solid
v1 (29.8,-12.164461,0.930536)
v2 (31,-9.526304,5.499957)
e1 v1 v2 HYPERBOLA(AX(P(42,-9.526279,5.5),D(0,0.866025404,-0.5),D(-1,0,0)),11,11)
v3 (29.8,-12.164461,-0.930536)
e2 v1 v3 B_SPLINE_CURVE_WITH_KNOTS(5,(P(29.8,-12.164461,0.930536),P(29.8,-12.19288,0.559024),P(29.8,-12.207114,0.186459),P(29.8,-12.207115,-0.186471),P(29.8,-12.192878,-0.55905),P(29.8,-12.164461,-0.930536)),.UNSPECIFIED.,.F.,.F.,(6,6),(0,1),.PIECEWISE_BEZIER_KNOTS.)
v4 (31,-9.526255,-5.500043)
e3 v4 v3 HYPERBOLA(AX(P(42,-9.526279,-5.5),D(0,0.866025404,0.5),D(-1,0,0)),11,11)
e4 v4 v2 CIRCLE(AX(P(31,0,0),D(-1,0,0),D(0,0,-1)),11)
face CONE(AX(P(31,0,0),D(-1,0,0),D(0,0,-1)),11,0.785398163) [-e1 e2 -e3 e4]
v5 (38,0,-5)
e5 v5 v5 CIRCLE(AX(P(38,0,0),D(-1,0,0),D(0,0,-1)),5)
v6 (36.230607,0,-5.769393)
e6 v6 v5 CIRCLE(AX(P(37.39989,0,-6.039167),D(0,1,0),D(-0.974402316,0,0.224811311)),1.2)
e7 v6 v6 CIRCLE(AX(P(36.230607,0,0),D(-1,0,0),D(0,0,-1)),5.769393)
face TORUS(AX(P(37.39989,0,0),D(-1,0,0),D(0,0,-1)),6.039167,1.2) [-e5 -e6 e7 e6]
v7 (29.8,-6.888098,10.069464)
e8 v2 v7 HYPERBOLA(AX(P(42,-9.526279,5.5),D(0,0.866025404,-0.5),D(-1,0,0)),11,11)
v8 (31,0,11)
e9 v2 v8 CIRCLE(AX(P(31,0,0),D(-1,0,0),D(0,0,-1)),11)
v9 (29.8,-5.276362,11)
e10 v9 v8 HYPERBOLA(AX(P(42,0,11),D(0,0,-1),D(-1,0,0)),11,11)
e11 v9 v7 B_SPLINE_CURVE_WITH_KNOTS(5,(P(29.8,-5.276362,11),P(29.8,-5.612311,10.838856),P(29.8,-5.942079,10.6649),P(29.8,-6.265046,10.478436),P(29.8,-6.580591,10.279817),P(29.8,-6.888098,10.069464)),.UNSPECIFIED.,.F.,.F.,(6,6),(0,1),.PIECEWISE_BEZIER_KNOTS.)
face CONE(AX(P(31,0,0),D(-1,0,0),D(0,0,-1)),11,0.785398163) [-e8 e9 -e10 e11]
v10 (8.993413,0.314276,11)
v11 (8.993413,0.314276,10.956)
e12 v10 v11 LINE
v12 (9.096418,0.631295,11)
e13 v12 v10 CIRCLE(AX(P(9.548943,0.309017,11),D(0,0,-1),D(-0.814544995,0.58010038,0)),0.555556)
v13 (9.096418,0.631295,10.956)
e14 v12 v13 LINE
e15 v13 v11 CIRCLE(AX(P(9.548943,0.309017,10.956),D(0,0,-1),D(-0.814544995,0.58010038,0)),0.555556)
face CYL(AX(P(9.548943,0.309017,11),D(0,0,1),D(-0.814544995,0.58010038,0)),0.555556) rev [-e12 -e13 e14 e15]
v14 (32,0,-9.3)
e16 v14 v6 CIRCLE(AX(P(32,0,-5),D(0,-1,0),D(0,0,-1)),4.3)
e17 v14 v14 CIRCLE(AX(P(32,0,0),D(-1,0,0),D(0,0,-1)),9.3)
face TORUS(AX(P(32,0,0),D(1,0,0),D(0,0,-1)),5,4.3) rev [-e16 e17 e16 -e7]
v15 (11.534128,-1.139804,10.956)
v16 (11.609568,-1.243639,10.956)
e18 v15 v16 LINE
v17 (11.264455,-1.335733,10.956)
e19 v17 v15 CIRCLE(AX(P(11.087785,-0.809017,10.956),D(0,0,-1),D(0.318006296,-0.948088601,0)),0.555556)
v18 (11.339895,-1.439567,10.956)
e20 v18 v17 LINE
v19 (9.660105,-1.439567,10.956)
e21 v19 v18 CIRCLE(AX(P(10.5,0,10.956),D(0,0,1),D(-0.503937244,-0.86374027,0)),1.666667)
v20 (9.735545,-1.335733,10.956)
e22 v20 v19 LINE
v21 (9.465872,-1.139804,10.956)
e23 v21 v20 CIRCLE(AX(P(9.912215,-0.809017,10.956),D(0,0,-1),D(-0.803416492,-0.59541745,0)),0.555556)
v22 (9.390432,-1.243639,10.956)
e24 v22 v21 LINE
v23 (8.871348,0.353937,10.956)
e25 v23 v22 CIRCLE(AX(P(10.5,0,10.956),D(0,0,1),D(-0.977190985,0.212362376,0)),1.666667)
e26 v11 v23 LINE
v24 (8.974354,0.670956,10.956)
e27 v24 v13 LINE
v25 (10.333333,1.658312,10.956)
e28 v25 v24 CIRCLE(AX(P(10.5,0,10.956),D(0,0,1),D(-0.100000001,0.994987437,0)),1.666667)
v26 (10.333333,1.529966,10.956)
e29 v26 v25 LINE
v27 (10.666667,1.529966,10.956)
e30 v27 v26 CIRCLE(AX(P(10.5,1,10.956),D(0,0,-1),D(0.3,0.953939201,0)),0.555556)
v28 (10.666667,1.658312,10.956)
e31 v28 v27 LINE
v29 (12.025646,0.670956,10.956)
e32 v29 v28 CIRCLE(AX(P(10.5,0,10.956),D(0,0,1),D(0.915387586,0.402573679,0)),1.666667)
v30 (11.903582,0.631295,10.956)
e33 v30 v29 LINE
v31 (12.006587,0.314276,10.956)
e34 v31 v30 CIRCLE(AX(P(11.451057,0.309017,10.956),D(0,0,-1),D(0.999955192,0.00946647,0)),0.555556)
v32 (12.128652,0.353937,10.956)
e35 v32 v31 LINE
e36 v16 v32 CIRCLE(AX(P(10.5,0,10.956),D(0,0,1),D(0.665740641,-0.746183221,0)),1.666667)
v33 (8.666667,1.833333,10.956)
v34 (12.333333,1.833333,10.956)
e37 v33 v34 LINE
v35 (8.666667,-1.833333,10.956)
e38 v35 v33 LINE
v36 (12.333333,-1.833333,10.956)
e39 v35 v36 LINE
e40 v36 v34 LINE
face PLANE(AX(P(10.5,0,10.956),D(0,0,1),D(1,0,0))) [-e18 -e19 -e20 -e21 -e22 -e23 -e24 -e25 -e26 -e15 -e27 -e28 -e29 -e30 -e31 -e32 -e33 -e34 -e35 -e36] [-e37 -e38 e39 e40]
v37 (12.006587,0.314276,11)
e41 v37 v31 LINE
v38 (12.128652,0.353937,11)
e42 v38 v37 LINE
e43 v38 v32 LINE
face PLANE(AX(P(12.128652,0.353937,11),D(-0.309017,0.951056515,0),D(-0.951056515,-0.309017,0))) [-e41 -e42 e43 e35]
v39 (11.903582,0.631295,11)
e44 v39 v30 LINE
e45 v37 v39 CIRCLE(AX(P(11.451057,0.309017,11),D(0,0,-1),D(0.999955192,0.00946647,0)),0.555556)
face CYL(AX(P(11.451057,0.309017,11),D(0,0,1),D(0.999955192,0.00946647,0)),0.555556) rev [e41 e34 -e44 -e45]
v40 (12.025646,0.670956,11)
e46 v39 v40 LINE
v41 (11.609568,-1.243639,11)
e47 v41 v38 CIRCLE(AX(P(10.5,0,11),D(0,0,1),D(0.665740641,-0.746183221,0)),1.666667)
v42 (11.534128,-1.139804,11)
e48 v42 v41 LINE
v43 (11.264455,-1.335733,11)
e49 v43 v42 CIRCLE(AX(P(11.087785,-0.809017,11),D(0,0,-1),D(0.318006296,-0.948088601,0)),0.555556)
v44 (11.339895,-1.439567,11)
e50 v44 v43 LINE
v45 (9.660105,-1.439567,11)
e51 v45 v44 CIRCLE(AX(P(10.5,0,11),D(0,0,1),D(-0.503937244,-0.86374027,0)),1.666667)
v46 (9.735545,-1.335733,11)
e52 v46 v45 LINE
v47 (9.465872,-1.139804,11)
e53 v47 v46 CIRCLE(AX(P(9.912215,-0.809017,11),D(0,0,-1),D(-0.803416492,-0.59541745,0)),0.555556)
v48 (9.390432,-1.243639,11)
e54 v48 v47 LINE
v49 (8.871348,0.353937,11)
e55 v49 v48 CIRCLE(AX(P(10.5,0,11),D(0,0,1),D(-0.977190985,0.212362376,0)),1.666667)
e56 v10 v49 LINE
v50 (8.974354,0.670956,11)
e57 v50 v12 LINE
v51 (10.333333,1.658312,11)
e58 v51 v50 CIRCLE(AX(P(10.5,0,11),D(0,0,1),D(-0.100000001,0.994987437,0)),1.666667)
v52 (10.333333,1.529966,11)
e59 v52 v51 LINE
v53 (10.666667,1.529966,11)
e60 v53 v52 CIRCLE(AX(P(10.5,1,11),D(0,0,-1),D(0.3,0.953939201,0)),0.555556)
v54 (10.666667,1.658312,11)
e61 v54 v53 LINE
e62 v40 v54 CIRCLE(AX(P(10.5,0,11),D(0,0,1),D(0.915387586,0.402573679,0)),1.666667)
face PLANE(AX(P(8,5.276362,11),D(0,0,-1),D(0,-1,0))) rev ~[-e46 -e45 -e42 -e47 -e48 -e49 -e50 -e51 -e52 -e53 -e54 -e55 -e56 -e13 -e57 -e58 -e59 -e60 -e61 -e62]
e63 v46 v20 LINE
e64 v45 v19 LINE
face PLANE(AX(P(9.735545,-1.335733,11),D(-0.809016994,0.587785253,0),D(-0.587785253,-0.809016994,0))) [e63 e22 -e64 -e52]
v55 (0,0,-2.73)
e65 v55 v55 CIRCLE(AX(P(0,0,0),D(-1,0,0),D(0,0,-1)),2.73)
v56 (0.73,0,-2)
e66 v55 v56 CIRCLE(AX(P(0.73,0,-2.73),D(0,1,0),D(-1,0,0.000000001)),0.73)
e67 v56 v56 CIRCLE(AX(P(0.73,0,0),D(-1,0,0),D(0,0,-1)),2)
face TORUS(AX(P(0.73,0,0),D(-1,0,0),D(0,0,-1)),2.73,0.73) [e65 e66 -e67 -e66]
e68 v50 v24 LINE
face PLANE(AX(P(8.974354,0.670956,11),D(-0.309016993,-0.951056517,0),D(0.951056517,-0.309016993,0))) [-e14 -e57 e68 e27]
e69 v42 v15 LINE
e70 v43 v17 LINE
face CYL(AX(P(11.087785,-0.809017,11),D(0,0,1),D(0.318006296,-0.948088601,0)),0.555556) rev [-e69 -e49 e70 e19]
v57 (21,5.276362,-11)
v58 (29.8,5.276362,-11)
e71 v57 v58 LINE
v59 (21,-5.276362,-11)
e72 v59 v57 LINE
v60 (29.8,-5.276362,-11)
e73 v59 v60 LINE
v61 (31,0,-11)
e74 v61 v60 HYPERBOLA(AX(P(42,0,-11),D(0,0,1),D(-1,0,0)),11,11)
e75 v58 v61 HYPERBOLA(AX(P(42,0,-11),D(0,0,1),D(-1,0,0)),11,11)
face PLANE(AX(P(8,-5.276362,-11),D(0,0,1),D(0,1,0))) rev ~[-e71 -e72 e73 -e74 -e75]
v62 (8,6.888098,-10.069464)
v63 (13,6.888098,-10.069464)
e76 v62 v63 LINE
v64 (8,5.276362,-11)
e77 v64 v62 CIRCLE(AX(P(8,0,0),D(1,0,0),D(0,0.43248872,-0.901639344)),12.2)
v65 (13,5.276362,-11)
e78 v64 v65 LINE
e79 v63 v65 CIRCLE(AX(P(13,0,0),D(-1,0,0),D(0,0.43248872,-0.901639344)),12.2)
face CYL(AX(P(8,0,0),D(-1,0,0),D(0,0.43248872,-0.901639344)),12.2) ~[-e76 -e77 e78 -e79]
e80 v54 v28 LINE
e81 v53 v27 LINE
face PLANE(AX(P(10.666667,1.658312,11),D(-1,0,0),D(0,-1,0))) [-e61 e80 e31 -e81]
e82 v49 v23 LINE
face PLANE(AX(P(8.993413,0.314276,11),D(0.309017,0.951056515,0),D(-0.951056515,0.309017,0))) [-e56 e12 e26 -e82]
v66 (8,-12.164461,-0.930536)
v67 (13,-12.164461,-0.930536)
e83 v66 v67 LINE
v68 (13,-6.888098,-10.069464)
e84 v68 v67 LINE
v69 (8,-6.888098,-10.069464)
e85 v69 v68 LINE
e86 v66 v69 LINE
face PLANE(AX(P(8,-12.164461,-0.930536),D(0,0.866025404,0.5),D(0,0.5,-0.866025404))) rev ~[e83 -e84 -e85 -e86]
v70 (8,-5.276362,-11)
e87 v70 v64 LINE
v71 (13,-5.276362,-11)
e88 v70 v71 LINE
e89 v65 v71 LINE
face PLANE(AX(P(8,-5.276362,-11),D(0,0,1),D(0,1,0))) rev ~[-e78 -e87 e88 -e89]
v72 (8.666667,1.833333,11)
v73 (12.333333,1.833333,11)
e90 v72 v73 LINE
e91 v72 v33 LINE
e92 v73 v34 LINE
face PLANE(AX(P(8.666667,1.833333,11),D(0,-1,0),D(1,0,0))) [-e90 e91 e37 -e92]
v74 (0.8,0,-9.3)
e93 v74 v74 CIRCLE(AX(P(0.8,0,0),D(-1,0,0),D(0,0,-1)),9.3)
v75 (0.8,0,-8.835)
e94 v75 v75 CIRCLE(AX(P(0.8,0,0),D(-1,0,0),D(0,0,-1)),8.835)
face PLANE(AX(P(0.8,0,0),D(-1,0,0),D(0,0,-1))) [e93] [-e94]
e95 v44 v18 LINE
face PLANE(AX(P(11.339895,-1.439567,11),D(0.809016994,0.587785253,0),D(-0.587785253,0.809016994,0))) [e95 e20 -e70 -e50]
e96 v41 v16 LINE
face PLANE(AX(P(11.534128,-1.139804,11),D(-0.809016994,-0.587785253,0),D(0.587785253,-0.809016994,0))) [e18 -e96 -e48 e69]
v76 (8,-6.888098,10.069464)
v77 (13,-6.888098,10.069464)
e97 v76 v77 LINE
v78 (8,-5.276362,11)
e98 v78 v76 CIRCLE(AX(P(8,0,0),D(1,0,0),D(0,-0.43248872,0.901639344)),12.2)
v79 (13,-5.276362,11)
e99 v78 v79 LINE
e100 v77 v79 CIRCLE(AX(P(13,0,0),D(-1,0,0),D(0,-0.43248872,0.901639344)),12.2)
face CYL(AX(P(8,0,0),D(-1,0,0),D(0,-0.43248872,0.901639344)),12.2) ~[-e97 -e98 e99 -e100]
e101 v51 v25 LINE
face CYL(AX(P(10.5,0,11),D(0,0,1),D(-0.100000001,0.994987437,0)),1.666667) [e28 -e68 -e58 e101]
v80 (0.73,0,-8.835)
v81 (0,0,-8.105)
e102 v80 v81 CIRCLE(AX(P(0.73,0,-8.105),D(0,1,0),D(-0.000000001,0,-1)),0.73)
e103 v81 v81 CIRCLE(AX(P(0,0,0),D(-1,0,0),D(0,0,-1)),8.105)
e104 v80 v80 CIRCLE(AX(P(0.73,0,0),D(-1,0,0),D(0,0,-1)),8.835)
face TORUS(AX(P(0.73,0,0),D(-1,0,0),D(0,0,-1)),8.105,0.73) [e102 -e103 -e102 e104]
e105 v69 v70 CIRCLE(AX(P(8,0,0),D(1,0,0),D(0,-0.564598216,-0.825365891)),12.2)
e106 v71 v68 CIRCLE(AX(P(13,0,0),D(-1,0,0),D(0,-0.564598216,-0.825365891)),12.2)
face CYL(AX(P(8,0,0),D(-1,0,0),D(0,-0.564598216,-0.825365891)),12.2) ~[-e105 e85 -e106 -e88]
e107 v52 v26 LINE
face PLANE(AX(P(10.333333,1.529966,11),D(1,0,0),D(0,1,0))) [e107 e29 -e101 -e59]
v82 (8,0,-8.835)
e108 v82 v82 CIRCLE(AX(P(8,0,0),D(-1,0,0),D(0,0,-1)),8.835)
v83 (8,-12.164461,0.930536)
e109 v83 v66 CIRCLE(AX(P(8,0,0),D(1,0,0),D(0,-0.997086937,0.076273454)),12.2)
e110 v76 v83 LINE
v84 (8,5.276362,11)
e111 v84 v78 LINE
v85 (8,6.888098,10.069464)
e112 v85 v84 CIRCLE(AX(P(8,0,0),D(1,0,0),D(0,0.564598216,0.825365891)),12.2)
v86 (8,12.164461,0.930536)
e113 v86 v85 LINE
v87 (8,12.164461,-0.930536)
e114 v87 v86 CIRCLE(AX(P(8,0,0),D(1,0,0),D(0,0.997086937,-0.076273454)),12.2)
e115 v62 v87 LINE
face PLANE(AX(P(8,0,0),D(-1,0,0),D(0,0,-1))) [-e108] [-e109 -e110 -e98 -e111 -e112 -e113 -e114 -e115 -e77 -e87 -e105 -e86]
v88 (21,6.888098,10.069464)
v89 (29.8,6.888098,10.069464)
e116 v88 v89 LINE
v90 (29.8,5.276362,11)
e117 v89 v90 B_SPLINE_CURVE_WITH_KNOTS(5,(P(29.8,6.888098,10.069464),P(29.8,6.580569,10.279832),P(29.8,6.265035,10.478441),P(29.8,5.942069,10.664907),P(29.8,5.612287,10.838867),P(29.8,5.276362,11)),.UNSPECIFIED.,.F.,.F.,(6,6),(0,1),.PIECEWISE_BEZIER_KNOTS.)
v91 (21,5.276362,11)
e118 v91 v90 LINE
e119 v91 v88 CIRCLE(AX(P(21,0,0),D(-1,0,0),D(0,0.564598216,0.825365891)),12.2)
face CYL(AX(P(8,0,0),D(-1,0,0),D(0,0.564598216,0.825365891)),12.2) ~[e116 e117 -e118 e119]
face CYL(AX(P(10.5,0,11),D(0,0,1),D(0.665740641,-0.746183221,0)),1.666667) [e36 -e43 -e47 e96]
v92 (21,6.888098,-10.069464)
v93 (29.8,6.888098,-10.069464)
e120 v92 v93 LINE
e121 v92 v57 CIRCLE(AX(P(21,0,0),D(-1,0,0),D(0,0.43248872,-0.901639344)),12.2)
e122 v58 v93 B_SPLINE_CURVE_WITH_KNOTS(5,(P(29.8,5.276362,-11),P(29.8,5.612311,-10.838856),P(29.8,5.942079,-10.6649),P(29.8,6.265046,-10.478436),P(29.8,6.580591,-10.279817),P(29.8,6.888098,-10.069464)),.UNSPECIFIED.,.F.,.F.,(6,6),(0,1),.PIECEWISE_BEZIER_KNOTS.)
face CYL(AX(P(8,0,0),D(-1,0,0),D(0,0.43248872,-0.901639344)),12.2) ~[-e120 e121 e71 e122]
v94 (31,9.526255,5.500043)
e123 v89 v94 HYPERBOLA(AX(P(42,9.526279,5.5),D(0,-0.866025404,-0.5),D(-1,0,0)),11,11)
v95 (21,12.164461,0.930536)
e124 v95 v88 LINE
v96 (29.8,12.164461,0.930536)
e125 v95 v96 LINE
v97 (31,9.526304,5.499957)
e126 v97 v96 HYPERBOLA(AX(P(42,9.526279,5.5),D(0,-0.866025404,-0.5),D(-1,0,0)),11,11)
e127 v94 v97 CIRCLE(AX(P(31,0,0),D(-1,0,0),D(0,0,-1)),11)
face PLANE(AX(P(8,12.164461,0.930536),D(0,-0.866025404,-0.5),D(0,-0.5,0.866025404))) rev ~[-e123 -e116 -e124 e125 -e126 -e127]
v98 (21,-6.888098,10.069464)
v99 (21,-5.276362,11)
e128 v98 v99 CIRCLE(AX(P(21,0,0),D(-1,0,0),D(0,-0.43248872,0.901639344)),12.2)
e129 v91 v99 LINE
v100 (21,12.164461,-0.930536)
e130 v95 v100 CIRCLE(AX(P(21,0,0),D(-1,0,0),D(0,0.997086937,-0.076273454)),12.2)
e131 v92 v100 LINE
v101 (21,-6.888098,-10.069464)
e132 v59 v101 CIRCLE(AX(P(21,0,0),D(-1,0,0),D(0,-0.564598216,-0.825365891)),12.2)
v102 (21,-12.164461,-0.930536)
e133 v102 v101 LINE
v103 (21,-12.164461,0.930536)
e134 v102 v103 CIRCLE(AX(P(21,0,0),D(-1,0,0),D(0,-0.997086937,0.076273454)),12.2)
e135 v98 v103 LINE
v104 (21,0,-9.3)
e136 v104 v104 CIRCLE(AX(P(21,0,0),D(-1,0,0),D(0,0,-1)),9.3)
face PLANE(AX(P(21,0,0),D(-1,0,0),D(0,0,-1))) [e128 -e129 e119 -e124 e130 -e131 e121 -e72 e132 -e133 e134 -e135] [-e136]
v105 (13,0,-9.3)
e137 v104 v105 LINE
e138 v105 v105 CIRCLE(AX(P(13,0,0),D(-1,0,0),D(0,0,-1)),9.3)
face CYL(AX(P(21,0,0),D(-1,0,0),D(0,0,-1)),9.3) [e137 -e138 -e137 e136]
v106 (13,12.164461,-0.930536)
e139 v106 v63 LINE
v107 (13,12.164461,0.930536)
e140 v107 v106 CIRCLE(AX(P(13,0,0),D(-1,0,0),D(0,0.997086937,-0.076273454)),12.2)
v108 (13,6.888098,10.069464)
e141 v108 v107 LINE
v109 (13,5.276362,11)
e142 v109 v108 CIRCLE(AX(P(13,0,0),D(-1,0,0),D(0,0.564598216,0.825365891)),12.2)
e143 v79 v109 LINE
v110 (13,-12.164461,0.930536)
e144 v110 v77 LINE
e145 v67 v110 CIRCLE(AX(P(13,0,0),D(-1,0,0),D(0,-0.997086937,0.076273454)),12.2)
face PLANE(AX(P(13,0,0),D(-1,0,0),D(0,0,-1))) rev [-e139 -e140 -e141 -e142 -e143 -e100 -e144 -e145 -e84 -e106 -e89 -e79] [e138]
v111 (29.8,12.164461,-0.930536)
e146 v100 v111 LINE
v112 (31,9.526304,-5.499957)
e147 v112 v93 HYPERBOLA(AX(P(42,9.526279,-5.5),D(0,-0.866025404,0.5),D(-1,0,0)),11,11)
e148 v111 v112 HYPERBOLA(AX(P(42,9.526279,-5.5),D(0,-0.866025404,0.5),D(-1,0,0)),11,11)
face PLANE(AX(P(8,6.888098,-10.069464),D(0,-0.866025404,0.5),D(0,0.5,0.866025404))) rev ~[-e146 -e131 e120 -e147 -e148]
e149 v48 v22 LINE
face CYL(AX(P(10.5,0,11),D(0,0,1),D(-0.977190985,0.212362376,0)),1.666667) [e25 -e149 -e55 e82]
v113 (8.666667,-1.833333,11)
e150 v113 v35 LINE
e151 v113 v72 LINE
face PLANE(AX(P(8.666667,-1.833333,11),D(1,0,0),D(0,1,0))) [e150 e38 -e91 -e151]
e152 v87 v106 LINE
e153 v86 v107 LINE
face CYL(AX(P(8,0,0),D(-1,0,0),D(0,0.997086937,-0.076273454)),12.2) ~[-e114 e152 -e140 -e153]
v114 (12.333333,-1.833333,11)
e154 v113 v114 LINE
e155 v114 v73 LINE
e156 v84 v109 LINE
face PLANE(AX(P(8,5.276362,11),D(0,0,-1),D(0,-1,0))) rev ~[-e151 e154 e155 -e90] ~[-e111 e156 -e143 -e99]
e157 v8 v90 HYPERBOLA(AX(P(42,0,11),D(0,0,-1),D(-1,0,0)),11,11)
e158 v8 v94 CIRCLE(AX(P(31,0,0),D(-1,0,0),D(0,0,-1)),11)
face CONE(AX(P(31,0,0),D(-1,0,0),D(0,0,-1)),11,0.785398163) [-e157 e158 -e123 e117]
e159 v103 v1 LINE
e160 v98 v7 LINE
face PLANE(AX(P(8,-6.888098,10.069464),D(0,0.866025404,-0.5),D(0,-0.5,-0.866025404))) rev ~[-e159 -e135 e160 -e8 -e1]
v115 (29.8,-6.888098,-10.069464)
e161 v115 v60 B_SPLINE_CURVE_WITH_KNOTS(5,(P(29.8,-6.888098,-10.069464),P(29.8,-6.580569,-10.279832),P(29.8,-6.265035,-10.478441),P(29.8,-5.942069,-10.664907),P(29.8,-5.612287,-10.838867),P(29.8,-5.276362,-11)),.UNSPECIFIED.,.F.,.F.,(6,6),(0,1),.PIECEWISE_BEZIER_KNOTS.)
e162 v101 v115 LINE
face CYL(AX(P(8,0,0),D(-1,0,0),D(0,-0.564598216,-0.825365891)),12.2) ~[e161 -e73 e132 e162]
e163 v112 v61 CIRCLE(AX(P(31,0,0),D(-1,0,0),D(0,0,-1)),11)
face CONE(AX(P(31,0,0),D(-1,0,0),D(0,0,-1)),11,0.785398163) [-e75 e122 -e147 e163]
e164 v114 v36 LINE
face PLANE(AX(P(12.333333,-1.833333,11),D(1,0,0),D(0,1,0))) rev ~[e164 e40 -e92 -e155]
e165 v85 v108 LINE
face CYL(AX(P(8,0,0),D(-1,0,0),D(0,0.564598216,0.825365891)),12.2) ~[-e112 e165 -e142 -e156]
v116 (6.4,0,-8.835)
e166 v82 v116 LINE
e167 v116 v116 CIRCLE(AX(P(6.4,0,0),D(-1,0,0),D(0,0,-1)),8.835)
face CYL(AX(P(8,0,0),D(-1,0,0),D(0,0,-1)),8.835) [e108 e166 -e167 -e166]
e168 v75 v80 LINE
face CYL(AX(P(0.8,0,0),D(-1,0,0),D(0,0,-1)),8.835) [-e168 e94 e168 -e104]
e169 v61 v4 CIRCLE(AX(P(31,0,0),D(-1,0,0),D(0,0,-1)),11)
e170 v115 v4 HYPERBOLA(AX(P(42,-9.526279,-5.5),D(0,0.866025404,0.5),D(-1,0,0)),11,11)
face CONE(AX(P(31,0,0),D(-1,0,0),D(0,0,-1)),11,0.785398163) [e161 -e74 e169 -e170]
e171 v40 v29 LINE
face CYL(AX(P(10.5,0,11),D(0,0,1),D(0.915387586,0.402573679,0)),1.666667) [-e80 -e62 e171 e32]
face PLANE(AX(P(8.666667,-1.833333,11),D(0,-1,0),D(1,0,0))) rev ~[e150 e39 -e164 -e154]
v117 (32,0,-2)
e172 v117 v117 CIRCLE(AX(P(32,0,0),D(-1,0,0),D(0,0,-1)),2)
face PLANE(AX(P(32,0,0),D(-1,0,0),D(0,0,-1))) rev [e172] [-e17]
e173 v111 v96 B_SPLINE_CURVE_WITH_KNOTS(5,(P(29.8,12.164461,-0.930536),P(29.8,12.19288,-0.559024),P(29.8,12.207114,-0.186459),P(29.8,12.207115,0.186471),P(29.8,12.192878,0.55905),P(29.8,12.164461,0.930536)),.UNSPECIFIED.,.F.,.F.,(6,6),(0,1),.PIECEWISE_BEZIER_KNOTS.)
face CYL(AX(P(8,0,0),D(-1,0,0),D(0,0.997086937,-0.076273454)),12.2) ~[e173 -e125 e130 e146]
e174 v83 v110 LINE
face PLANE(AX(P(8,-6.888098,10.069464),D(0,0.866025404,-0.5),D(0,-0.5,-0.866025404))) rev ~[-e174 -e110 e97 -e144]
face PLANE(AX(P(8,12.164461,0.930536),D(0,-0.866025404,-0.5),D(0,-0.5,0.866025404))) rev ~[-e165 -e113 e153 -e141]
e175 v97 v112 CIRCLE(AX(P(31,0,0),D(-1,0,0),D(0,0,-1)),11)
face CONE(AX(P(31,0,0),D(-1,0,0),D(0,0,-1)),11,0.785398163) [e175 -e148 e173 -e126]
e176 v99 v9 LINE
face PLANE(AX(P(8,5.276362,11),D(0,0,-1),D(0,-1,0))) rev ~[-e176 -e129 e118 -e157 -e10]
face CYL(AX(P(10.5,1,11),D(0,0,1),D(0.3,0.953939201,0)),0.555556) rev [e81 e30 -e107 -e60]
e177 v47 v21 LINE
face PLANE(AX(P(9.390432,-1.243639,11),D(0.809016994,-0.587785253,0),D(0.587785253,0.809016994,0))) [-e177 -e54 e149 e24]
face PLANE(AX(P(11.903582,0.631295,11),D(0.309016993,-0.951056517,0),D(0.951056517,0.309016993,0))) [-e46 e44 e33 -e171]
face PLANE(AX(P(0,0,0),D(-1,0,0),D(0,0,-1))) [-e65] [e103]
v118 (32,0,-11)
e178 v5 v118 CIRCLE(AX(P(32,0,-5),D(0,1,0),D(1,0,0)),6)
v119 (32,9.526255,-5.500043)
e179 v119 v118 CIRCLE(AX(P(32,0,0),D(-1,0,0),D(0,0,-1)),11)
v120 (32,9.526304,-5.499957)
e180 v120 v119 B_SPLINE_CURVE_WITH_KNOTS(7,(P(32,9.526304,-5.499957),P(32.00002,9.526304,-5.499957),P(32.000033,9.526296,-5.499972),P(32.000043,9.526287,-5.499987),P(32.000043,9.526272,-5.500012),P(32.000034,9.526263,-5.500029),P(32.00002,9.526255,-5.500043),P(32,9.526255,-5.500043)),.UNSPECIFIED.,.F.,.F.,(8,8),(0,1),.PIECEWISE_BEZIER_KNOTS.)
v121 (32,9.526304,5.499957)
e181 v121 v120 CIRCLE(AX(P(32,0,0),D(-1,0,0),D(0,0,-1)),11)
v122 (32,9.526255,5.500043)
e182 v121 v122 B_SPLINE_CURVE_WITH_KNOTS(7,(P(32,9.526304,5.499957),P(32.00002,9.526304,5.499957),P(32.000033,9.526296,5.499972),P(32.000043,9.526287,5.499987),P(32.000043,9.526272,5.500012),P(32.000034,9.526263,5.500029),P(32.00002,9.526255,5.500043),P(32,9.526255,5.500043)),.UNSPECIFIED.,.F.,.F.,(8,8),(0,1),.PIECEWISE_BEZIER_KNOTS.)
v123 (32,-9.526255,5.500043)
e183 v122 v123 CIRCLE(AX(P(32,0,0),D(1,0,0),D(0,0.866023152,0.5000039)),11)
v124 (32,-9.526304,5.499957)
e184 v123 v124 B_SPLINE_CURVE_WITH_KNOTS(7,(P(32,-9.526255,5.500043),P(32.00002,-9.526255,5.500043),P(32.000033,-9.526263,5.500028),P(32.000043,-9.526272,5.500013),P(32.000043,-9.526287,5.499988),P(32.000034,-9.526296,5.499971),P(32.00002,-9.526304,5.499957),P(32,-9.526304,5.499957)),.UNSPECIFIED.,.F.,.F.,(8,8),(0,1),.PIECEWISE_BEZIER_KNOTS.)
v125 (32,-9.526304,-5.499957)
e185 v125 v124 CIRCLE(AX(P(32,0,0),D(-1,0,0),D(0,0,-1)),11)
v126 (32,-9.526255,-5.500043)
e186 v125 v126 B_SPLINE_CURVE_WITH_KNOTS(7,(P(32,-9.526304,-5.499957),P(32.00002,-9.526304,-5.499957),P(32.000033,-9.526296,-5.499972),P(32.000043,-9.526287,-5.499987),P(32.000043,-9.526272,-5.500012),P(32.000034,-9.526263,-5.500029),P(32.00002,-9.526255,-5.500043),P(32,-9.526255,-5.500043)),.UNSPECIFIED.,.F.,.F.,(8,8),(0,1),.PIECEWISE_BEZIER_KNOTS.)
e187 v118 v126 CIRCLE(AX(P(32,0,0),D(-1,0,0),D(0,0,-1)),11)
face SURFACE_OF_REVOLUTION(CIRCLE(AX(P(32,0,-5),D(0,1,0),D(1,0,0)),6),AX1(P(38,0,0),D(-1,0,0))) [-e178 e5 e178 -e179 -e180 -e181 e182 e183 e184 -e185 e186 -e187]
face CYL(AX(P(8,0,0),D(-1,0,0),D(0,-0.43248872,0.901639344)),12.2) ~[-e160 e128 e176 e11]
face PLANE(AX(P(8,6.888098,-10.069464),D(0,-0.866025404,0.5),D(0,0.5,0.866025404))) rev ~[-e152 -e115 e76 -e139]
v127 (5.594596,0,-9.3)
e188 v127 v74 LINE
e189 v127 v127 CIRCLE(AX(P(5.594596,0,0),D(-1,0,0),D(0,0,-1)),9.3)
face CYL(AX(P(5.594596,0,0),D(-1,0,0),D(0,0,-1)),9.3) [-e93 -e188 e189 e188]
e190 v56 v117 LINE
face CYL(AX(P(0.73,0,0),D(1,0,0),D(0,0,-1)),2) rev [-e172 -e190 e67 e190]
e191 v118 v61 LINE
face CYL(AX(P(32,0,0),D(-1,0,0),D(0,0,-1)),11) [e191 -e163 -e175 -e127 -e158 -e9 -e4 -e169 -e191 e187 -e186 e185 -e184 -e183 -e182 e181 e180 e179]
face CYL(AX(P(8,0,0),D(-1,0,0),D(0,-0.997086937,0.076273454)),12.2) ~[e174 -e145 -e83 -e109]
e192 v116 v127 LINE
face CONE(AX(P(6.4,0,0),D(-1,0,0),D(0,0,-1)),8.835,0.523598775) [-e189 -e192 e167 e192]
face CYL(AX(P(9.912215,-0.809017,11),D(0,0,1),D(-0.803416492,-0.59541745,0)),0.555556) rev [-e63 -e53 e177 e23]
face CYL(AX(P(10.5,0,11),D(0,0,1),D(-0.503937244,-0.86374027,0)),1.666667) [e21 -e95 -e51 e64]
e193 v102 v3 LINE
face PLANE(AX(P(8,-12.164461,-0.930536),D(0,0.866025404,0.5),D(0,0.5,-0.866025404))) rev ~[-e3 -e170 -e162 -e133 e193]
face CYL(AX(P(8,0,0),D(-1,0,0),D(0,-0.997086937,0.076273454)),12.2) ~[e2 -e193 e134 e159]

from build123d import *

# Parameters (mm, degrees)
ESQUISSE2_W             = 44
ESQUISSE2_H             = 44
ENL_V_MAT_EXTRU_1_DEPTH = 38
ESQUISSE3_W             = 3.666666666
ESQUISSE3_H             = 3.666666666
ENL_V_MAT_EXTRU_2_DEPTH = 0.044


with BuildPart() as part:
    # Esquisse1 → Révolution1 (revolve)
    with BuildSketch(Plane.XY, mode=Mode.PRIVATE) as r_volution1_sk:
        with BuildLine():
            Line((0, 8.105), (0, 2.73))
            ThreePointArc((0, 2.73), (0.21381205, 2.21381205), (0.73, 2))
            Line((0.73, 2), (32, 2))
            Line((32, 2), (32, 9.3))
            ThreePointArc((32, 9.3), (34.7551415, 8.301392936), (36.23060683, 5.76939317))
            ThreePointArc((36.23060683, 5.76939317), (36.921370264, 4.938703552), (38, 5))
            ThreePointArc((38, 5), (36.242640687, 9.242640687), (32, 11))
            Line((32, 11), (31, 11))
            Line((31, 11), (27.333333333, 14.666666667))
            Line((27.333333333, 14.666666667), (21, 14.666666667))
            Line((21, 14.666666667), (21, 9.3))
            Line((21, 9.3), (13, 9.3))
            Line((13, 9.3), (13, 14.666666667))
            Line((13, 14.666666667), (8, 14.666666667))
            Line((8, 14.666666667), (8, 8.835))
            Line((8, 8.835), (6.4, 8.835))
            Line((6.4, 8.835), (5.594596374, 9.3))
            Line((5.594596374, 9.3), (0.8, 9.3))
            Line((0.8, 9.3), (0.8, 8.835))
            Line((0.8, 8.835), (0.73, 8.835))
            ThreePointArc((0.73, 8.835), (0.21381205, 8.62118795), (0, 8.105))
        make_face()
    revolve(r_volution1_sk.sketch.rotate(Axis((38, 0, 0), (-1, 0, 0)), 90), axis=Axis((38, 0, 0), (-1, 0, 0)))

    # Esquisse2 → Enlèv. mat.-Extru.1 (cut)
    with BuildSketch(Plane(origin=(8, 0, 0), x_dir=(0, 0, -1), z_dir=(1, 0, 0))):
        Rectangle(ESQUISSE2_W, ESQUISSE2_H)
        with BuildLine():
            Line((-11, 5.276362383), (-11, -5.276362383))
            ThreePointArc((-11, -5.276362383), (-10.565509926, -6.1), (-10.069463864, -6.88809825))
            Line((-10.069463864, -6.88809825), (-0.930536136, -12.164460633))
            ThreePointArc((-0.930536136, -12.164460633), (0, -12.2), (0.930536136, -12.164460633))
            Line((0.930536136, -12.164460633), (10.069463864, -6.88809825))
            ThreePointArc((10.069463864, -6.88809825), (10.565509926, -6.1), (11, -5.276362383))
            Line((11, -5.276362383), (11, 5.276362383))
            ThreePointArc((11, 5.276362383), (10.565509926, 6.1), (10.069463864, 6.88809825))
            Line((10.069463864, 6.88809825), (0.930536136, 12.164460633))
            ThreePointArc((0.930536136, 12.164460633), (0, 12.2), (-0.930536136, 12.164460633))
            Line((-0.930536136, 12.164460633), (-10.069463864, 6.88809825))
            ThreePointArc((-10.069463864, 6.88809825), (-10.565509926, 6.1), (-11, 5.276362383))
        make_face(mode=Mode.SUBTRACT)
    extrude(amount=ENL_V_MAT_EXTRU_1_DEPTH, mode=Mode.SUBTRACT)

    # Esquisse3 → Enlèv. mat.-Extru.2 (cut)
    with BuildSketch(Plane.XY.offset(11)):
        with Locations((10.5, 0)):
            Rectangle(ESQUISSE3_W, ESQUISSE3_H)
        with BuildLine():
            Line((9.390432265, -1.243638701), (9.465872252, -1.139804467))
            ThreePointArc((9.465872252, -1.139804467), (10.23876211, -0.359563109), (9.735544583, -1.335732884))
            Line((9.735544583, -1.335732884), (9.660104596, -1.439567118))
            ThreePointArc((9.660104596, -1.439567118), (10.5, -1.666666667), (11.339895404, -1.439567118))
            Line((11.339895404, -1.439567118), (11.264455417, -1.335732884))
            ThreePointArc((11.264455417, -1.335732884), (10.76123789, -0.359563109), (11.534127748, -1.139804467))
            Line((11.534127748, -1.139804467), (11.609567735, -1.243638701))
            ThreePointArc((11.609567735, -1.243638701), (12.085094194, -0.515028324), (12.128651642, 0.353937293))
            Line((12.128651642, 0.353937293), (12.006587179, 0.314276144))
            ThreePointArc((12.006587179, 0.314276144), (10.922691785, 0.137340886), (11.903581514, 0.631294983))
            Line((11.903581514, 0.631294983), (12.025645977, 0.670956131))
            ThreePointArc((12.025645977, 0.670956131), (11.479642087, 1.348361657), (10.666666667, 1.658312395))
            Line((10.666666667, 1.658312395), (10.666666667, 1.529966223))
            ThreePointArc((10.666666667, 1.529966223), (10.5, 0.444444444), (10.333333333, 1.529966223))
            Line((10.333333333, 1.529966223), (10.333333333, 1.658312395))
            ThreePointArc((10.333333333, 1.658312395), (9.520357913, 1.348361657), (8.974354023, 0.670956131))
            Line((8.974354023, 0.670956131), (9.096418486, 0.631294983))
            ThreePointArc((9.096418486, 0.631294983), (10.077308215, 0.137340886), (8.993412821, 0.314276144))
            Line((8.993412821, 0.314276144), (8.871348358, 0.353937293))
            ThreePointArc((8.871348358, 0.353937293), (8.914905806, -0.515028324), (9.390432265, -1.243638701))
        make_face(mode=Mode.SUBTRACT)
    extrude(amount=-ENL_V_MAT_EXTRU_2_DEPTH, mode=Mode.SUBTRACT)


solid = part.part
